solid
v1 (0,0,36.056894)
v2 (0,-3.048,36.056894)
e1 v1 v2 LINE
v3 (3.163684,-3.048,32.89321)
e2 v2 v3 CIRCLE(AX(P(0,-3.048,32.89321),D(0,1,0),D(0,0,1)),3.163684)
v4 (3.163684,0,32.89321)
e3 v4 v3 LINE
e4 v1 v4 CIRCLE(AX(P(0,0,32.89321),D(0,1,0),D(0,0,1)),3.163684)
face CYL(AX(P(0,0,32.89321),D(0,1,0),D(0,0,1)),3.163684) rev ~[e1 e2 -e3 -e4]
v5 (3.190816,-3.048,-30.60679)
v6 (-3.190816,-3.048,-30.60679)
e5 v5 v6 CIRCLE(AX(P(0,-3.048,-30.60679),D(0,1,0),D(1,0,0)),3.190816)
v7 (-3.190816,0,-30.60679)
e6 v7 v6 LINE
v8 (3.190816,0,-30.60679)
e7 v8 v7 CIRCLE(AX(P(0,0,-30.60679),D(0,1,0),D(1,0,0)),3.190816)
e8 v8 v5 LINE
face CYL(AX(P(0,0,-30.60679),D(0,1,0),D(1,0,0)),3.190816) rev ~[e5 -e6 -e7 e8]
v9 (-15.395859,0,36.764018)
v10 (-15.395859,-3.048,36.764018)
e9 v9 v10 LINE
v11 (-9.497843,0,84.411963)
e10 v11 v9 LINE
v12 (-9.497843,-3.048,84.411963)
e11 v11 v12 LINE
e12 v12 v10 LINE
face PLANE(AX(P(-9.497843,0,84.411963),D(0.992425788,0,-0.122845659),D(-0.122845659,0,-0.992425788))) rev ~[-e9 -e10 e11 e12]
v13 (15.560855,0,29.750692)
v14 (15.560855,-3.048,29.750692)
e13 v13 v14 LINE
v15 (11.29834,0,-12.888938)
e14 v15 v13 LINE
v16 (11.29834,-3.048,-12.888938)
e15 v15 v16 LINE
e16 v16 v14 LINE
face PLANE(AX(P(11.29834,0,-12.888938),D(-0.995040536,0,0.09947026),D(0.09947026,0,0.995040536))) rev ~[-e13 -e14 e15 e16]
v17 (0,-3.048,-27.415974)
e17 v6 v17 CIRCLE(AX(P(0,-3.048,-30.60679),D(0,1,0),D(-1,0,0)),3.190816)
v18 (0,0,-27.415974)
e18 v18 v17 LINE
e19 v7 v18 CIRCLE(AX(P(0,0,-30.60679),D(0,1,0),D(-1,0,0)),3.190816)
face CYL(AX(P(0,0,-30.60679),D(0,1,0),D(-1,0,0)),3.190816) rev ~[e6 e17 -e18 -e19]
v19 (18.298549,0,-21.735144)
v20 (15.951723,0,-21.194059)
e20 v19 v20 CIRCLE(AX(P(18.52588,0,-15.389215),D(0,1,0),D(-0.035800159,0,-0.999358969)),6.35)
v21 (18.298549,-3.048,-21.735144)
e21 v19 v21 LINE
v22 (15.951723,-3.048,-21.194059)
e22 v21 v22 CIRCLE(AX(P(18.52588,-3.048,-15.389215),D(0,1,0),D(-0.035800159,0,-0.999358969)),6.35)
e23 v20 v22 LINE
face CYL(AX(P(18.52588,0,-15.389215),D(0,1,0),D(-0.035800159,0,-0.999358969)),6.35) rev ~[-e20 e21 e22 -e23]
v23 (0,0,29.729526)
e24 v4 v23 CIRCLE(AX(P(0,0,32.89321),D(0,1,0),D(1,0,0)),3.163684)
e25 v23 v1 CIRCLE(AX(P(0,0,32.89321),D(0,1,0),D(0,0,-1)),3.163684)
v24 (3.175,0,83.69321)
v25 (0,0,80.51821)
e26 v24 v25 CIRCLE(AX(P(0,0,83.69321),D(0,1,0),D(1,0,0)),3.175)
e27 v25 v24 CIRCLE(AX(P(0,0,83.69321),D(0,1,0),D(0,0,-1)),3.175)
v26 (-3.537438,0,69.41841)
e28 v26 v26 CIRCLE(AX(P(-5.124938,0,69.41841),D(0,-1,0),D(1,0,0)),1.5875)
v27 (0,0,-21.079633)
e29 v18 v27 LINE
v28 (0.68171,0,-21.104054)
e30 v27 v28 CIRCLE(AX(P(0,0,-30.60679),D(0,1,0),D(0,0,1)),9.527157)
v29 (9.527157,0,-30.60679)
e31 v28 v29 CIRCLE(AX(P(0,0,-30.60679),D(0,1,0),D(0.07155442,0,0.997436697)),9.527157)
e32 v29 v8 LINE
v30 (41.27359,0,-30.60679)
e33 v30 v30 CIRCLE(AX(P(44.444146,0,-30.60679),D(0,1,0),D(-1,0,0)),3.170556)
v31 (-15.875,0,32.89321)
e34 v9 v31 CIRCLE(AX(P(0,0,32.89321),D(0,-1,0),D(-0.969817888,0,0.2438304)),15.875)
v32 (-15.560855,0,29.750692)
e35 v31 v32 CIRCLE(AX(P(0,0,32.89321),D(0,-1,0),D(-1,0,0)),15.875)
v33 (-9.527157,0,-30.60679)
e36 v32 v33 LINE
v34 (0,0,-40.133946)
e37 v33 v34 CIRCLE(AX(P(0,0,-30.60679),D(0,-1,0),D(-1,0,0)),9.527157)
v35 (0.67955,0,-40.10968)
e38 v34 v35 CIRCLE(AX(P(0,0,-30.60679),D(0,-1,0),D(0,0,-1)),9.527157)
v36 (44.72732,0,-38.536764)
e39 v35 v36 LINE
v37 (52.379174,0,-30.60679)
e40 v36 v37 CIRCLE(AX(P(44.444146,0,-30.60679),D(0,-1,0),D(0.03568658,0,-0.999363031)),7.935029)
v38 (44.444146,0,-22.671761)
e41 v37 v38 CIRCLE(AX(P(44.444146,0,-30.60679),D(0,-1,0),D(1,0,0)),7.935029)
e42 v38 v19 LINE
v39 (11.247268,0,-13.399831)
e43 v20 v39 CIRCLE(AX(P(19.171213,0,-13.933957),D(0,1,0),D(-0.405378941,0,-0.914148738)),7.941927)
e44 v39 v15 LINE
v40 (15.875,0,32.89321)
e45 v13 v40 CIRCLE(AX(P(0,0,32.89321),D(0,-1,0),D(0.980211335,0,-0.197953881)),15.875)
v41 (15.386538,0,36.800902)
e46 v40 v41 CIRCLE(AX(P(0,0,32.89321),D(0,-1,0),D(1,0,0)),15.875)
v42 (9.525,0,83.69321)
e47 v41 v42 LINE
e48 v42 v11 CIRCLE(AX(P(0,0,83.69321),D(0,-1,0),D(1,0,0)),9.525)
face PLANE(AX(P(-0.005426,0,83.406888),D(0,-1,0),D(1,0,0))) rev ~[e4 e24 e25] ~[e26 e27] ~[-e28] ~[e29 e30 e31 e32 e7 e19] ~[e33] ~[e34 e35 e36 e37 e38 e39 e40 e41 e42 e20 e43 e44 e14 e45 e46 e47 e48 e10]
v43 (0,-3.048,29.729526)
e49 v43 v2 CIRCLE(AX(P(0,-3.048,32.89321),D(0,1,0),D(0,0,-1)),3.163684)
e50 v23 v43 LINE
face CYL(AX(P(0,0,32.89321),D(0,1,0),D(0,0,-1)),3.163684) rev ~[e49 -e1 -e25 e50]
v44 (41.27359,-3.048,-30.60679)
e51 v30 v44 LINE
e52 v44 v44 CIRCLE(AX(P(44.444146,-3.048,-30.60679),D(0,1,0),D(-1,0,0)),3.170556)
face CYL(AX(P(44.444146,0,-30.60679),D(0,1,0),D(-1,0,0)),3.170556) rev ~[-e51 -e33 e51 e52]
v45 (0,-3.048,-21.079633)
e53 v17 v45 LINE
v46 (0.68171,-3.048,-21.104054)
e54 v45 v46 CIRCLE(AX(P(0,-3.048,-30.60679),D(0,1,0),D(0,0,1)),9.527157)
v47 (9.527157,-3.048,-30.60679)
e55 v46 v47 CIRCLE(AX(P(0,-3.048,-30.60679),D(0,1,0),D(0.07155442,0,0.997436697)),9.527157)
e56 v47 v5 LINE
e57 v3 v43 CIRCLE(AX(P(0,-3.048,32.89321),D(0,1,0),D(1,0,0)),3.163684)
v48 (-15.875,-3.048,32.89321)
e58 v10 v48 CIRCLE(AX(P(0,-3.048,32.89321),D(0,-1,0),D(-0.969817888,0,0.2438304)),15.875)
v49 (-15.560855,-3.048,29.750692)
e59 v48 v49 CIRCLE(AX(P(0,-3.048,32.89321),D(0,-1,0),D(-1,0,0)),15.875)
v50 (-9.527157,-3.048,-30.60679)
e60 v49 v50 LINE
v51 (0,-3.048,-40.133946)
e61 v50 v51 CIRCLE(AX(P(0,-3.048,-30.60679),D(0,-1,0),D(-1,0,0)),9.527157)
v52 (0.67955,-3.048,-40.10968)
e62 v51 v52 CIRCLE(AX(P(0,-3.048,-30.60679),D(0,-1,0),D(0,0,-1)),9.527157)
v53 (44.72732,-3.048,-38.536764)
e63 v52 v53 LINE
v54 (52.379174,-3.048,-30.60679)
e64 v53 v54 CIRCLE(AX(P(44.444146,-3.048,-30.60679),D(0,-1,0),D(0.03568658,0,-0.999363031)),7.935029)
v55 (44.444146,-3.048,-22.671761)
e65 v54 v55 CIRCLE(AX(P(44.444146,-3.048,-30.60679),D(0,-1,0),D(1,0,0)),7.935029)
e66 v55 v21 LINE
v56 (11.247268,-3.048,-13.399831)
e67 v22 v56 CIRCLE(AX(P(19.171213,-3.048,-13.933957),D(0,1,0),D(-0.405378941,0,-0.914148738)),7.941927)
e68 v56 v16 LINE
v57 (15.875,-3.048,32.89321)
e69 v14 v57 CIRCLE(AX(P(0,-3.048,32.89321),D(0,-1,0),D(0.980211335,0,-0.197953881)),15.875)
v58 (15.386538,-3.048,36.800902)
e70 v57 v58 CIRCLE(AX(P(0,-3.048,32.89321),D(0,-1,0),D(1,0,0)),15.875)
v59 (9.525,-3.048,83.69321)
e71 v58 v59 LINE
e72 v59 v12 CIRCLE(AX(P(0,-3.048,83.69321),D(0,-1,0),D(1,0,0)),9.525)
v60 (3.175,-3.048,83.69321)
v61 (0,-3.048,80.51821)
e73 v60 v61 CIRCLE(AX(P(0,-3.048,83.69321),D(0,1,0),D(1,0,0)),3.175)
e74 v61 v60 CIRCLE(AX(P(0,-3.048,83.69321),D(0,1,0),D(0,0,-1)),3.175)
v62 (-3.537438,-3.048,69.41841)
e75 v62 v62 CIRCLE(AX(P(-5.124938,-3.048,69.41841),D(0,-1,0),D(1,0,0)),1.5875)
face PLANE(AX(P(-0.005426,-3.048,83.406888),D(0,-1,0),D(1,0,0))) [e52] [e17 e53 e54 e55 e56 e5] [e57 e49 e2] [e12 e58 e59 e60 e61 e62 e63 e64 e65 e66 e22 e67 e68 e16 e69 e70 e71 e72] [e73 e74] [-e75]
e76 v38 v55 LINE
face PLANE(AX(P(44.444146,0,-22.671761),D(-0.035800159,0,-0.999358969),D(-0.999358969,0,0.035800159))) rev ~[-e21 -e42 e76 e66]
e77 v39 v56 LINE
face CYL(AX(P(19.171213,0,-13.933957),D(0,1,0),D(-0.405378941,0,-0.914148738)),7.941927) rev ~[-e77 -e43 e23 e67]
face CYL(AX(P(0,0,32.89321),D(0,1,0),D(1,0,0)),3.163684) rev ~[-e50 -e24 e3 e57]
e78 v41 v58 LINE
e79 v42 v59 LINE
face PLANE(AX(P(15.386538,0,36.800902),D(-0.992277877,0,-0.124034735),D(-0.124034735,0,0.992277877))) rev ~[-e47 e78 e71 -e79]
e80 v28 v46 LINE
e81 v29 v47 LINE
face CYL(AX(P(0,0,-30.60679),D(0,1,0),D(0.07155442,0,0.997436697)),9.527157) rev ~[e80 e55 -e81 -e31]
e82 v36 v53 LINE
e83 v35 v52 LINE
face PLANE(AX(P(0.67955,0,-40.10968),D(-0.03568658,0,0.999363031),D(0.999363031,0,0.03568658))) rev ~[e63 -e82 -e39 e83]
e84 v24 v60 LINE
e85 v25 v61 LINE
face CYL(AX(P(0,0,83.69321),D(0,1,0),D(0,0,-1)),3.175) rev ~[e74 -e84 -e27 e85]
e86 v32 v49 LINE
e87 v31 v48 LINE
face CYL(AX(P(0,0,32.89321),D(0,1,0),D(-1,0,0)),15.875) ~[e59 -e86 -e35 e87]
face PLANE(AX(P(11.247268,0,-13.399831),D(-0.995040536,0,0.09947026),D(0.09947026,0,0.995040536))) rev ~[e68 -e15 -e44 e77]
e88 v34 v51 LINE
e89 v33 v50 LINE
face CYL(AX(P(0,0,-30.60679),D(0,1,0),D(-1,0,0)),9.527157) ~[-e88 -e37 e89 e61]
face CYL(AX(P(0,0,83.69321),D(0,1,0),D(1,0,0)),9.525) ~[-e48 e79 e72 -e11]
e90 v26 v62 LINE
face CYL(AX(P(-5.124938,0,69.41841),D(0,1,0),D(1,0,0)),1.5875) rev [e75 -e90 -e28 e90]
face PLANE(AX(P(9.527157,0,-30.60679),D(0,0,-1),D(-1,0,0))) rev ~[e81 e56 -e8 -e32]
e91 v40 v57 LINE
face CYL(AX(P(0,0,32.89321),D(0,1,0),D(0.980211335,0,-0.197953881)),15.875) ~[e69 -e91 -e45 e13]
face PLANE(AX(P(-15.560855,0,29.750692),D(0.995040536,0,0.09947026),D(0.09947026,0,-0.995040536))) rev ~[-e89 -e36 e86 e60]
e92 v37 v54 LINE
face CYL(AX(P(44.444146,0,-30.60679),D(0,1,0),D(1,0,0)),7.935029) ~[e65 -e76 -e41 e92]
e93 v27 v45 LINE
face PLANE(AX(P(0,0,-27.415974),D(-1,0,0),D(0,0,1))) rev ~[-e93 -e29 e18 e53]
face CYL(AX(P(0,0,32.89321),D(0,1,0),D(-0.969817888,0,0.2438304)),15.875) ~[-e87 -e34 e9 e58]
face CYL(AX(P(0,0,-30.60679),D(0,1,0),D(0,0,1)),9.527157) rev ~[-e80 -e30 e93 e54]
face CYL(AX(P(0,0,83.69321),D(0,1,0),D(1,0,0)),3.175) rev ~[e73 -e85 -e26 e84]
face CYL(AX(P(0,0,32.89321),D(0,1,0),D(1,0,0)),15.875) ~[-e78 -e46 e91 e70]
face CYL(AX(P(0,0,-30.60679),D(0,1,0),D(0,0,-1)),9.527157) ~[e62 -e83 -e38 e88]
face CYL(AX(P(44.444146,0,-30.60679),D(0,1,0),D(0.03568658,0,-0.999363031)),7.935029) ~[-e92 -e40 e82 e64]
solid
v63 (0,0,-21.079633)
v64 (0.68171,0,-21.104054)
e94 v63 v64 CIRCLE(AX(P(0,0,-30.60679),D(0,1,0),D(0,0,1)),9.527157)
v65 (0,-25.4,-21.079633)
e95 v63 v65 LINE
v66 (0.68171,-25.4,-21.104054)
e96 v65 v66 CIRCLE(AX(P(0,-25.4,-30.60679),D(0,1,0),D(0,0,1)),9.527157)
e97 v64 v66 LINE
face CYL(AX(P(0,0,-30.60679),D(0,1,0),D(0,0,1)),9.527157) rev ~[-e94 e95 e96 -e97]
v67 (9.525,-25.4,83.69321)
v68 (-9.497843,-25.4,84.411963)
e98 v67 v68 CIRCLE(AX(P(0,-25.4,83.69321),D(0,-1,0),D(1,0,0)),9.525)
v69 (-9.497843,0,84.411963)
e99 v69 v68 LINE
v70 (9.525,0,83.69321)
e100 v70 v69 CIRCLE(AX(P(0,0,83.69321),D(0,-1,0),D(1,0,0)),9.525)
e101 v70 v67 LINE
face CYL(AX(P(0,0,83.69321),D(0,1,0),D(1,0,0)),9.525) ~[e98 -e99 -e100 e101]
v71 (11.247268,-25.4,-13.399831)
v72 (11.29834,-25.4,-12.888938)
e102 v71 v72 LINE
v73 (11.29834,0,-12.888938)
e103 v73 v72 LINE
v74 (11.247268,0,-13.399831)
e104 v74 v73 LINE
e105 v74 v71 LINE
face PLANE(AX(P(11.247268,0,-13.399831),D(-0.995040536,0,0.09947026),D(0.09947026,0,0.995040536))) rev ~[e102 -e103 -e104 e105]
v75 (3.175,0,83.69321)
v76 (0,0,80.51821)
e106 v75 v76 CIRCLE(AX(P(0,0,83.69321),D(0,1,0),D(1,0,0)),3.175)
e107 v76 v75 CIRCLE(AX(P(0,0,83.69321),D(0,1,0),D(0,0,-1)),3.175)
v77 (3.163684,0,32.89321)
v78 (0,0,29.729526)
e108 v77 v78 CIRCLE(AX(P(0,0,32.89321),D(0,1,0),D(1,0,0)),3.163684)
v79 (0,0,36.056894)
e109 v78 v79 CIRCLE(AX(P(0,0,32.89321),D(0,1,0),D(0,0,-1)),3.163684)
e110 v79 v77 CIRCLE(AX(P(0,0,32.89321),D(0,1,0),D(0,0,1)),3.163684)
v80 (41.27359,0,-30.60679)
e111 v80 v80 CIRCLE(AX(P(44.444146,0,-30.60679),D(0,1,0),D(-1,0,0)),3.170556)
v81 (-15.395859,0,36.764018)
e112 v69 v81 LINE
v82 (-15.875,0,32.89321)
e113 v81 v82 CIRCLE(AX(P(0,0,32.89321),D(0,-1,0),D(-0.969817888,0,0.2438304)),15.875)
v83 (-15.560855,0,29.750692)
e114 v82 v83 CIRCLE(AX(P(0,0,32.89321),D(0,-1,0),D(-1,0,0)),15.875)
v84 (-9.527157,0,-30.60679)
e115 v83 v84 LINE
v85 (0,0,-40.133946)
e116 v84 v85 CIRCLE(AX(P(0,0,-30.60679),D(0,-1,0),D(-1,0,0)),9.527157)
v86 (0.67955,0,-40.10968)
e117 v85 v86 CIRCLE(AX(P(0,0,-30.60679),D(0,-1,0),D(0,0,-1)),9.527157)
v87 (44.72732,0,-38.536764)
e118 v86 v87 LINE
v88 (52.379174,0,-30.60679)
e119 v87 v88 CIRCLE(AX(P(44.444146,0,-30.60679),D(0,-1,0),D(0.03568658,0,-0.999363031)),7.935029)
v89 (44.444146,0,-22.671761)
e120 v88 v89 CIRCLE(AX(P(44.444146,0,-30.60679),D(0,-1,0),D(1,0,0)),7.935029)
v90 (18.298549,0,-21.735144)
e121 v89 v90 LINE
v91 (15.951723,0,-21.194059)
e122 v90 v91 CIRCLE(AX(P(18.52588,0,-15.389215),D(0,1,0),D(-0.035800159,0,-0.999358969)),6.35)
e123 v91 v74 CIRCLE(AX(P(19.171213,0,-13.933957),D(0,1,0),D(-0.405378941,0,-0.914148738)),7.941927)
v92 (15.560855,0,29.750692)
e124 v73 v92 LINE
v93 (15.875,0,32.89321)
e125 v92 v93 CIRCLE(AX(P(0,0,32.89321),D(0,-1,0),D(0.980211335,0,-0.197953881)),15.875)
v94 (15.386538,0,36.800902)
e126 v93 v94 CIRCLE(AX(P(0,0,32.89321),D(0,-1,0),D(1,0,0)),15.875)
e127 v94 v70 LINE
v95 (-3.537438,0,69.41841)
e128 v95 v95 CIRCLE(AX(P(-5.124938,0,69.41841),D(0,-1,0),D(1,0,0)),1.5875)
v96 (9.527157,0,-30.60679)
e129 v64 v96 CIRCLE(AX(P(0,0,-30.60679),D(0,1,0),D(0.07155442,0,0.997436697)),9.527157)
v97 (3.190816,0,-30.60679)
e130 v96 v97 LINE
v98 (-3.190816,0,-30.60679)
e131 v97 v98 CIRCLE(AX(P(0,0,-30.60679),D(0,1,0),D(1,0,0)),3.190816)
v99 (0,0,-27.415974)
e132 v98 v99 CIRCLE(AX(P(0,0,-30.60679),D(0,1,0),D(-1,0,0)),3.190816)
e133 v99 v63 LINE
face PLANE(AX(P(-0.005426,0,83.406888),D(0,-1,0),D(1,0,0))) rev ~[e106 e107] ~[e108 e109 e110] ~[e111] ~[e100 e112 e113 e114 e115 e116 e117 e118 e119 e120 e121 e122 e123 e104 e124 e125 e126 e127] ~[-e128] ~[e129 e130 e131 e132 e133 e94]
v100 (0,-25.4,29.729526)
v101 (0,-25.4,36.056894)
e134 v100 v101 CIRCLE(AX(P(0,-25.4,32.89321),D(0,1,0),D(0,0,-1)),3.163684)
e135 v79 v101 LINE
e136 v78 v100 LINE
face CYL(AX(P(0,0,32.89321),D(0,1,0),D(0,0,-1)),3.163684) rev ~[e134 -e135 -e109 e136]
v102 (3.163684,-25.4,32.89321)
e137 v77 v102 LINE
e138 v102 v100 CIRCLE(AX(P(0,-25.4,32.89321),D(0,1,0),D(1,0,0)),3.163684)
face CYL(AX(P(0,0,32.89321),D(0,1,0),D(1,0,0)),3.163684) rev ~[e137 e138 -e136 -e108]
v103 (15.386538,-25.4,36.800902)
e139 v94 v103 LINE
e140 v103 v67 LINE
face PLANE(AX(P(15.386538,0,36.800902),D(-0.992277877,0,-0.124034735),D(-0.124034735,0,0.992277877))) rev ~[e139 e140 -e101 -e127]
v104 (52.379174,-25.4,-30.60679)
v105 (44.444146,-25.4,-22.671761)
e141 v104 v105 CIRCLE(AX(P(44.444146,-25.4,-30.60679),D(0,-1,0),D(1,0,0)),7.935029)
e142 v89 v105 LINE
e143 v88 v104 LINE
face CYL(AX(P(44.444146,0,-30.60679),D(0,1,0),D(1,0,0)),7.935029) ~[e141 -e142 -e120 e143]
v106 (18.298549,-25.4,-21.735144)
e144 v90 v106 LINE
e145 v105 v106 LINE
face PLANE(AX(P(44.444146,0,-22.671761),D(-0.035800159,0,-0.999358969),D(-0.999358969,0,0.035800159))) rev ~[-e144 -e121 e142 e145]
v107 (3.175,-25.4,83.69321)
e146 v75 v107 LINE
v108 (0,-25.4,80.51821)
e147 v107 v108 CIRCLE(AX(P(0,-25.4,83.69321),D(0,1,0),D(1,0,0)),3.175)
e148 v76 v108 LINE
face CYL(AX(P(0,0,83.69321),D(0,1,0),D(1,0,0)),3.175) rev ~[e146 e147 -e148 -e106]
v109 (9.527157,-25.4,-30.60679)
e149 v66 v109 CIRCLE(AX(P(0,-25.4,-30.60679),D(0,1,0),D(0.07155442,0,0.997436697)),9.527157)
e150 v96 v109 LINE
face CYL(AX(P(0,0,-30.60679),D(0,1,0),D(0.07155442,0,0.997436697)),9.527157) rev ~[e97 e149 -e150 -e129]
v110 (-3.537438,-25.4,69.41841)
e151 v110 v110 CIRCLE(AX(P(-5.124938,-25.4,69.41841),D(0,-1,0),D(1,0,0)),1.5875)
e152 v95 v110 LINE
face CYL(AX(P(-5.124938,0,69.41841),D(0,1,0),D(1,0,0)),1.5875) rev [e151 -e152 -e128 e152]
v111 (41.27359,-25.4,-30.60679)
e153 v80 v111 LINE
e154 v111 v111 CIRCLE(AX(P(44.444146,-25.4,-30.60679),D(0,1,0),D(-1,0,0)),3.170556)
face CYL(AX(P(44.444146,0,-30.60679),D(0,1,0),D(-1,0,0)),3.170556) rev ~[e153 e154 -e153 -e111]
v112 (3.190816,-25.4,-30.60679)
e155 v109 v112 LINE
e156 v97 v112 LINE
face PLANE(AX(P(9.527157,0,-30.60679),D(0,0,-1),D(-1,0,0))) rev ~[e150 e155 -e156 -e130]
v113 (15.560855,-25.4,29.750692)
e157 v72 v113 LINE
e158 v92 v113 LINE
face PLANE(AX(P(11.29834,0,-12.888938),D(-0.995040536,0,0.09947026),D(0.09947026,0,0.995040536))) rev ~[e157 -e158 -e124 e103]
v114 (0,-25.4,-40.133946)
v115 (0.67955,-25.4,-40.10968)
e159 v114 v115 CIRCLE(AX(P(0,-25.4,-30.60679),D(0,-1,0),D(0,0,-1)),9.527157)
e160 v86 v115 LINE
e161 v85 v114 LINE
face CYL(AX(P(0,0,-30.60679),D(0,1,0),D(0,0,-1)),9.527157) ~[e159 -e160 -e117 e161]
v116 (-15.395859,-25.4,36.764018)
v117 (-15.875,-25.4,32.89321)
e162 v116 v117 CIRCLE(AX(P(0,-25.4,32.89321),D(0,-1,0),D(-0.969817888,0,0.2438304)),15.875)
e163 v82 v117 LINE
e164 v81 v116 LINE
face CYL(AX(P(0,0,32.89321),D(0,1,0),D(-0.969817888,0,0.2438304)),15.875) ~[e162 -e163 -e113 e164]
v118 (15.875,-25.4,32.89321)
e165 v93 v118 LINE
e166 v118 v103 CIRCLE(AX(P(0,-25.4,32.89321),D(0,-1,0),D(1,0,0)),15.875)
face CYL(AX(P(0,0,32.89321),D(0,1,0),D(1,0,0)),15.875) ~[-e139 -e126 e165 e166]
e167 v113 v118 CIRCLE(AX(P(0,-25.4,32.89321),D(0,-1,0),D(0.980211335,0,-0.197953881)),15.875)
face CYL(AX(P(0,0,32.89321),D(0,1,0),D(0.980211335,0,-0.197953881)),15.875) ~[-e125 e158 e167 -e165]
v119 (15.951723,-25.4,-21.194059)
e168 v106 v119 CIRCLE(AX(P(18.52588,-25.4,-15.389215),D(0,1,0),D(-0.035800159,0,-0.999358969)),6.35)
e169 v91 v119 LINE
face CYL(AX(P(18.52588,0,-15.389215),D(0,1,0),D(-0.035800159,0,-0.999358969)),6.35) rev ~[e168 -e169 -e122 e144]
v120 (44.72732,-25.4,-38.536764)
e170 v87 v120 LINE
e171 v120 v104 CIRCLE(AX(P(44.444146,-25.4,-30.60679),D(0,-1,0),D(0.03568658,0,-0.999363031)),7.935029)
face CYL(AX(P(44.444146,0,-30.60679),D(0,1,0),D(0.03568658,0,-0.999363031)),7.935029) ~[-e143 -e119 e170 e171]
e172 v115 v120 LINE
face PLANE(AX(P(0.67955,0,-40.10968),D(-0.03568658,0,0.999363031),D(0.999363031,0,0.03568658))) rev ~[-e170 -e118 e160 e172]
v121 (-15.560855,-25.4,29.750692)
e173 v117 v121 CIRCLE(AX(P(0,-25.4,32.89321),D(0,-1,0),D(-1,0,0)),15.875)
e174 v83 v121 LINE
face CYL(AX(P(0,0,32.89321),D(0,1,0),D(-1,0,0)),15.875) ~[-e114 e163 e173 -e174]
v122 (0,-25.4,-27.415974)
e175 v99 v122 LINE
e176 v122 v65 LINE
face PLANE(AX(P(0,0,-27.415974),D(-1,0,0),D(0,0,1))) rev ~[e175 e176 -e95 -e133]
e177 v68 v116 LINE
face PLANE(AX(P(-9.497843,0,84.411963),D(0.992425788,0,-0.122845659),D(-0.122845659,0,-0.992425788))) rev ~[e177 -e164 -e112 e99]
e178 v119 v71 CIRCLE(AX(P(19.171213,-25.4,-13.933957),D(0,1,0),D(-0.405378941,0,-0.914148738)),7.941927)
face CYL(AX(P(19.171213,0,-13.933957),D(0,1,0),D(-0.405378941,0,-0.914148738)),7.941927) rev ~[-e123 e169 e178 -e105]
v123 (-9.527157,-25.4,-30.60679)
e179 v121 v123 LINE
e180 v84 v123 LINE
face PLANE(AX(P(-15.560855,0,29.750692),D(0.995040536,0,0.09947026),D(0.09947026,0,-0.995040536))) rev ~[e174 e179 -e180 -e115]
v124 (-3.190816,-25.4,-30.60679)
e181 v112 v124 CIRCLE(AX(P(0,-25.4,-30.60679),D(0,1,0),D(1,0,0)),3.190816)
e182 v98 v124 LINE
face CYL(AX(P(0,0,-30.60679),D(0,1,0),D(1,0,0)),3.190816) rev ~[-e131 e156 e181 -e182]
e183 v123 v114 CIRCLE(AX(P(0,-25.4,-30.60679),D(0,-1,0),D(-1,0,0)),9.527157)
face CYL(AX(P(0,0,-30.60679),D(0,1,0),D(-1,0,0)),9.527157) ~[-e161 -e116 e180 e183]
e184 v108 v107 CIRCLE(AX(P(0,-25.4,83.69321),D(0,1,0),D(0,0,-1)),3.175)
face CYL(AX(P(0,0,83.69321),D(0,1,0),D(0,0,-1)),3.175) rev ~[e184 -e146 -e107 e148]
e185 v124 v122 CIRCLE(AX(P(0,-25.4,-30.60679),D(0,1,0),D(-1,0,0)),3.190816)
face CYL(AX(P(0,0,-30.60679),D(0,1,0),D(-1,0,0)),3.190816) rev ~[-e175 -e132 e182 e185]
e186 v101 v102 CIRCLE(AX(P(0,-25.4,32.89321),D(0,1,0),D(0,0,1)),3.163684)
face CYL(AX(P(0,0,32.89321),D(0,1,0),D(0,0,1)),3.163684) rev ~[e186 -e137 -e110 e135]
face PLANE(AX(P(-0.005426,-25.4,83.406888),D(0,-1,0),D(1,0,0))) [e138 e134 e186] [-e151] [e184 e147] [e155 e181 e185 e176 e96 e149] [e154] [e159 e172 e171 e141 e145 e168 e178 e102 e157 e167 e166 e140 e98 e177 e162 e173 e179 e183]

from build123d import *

# Parameters (mm, degrees)
F0_R     = 1.5875
F1_DEPTH = 25.4
F2_DEPTH = 3.048


with BuildPart() as f1:
    # F0 (on Front) → F1 (new body)
    with BuildSketch(Plane.XZ):
        with BuildLine():
            ThreePointArc((-9.4978428488, 84.4119633965), (-6.9846885975, 77.2171194998), (0, 74.1682101567))
            ThreePointArc((0, 74.1682101567), (6.7351920908, 76.9580180659), (9.525, 83.6932101567))
            ThreePointArc((9.525, 83.6932101567), (0.3596330528, 93.2114184475), (-9.4978428488, 84.4119633965))
        make_face()
        with BuildLine():
            ThreePointArc((3.175, 83.6932101567), (2.2450640303, 81.4481461264), (0, 80.5182101567))
            ThreePointArc((0, 80.5182101567), (-2.2450640303, 85.938274187), (3.175, 83.6932101567))
        make_face(mode=Mode.SUBTRACT)
        with BuildLine():
            ThreePointArc((9.525, 83.6932101567), (6.7351920908, 76.9580180659), (0, 74.1682101567))
            Line((0, 74.1682101567), (0, 69.4184101567))
            Line((0, 69.4184101567), (0, 48.7682101567))
            ThreePointArc((0, 48.7682101567), (9.7463072395, 45.4241766075), (15.3865384615, 36.8009024644))
            Line((15.3865384615, 36.8009024644), (9.525, 83.6932101567))
        make_face()
        with BuildLine():
            Line((0, 69.4184101567), (0, 74.1682101567))
            ThreePointArc((0, 74.1682101567), (-6.9846885975, 77.2171194998), (-9.4978428488, 84.4119633965))
            Line((-9.4978428488, 84.4119633965), (-15.3958589716, 36.7640177631))
            ThreePointArc((-15.3958589716, 36.7640177631), (-9.7613153378, 45.4124892045), (0, 48.7682101567))
            Line((0, 48.7682101567), (0, 69.4184101567))
        make_face()
        with Locations((-5.124937529, 69.4184101567)):
            Circle(F0_R, mode=Mode.SUBTRACT)
        with BuildLine():
            ThreePointArc((15.3865384615, 36.8009024644), (9.7463072395, 45.4241766075), (0, 48.7682101567))
            Line((0, 48.7682101567), (0, 36.0568941846))
            ThreePointArc((0, 36.0568941846), (2.2370624297, 35.1302725864), (3.1636840279, 32.8932101567))
            ThreePointArc((3.1636840279, 32.8932101567), (2.2370624297, 30.656147727), (0, 29.7295261288))
            Line((0, 29.7295261288), (0, 17.0182101567))
            ThreePointArc((0, 17.0182101567), (10.0530630624, 20.6069760688), (15.5608549399, 29.7506922904))
            Line((15.5608549399, 29.7506922904), (15.875, 32.8932101567))
            Line((15.875, 32.8932101567), (15.3865384615, 36.8009024644))
        make_face()
        with BuildLine():
            Line((0, 36.0568941846), (0, 48.7682101567))
            ThreePointArc((0, 48.7682101567), (-9.7613153378, 45.4124892045), (-15.3958589716, 36.7640177631))
            Line((-15.3958589716, 36.7640177631), (-15.875, 32.8932101567))
            Line((-15.875, 32.8932101567), (-15.5608549399, 29.7506922904))
            ThreePointArc((-15.5608549399, 29.7506922904), (-10.0530630624, 20.6069760688), (0, 17.0182101567))
            Line((0, 17.0182101567), (0, 29.7295261288))
            ThreePointArc((0, 29.7295261288), (-3.1636840279, 32.8932101567), (0, 36.0568941846))
        make_face()
        with BuildLine():
            Line((-15.875, 32.8932101567), (-15.3958589716, 36.7640177631))
            ThreePointArc((-15.3958589716, 36.7640177631), (-15.7547593789, 34.8433849983), (-15.875, 32.8932101567))
        make_face()
        with BuildLine():
            ThreePointArc((15.875, 32.8932101567), (15.7524112928, 34.8622615683), (15.3865384615, 36.8009024644))
            Line((15.3865384615, 36.8009024644), (15.875, 32.8932101567))
        make_face()
        with BuildLine():
            Line((-15.5608549399, 29.7506922904), (-15.875, 32.8932101567))
            ThreePointArc((-15.875, 32.8932101567), (-15.7962685019, 31.314119781), (-15.5608549399, 29.7506922904))
        make_face()
        with BuildLine():
            ThreePointArc((15.5608549399, 29.7506922904), (15.7962685019, 31.314119781), (15.875, 32.8932101567))
            Line((15.875, 32.8932101567), (15.5608549399, 29.7506922904))
        make_face()
        with BuildLine():
            ThreePointArc((0, 17.0182101567), (-10.0530630624, 20.6069760688), (-15.5608549399, 29.7506922904))
            Line((-15.5608549399, 29.7506922904), (-9.5271565935, -30.6067898433))
            ThreePointArc((-9.5271565935, -30.6067898433), (-6.7367170327, -23.8700728106), (0, -21.0796332498))
            Line((0, -21.0796332498), (0, 17.0182101567))
        make_face()
        with BuildLine():
            Line((11.2983400626, -12.8889377975), (15.5608549399, 29.7506922904))
            ThreePointArc((15.5608549399, 29.7506922904), (10.0530630624, 20.6069760688), (0, 17.0182101567))
            Line((0, 17.0182101567), (0, -21.0796332498))
            ThreePointArc((0, -21.0796332498), (0.3410737199, -21.085740454), (0.6817101619, -21.1040542366))
            ThreePointArc((0.6817101619, -21.1040542366), (6.9735741274, -24.1155667963), (9.5271565935, -30.6067898433))
            Line((9.5271565935, -30.6067898433), (36.5091171516, -30.6067898433))
            ThreePointArc((36.5091171516, -30.6067898433), (38.8332331942, -24.9958773728), (44.4441456647, -22.6717613302))
            Line((44.4441456647, -22.6717613302), (18.2985487274, -21.7351444049))
            ThreePointArc((18.2985487274, -21.7351444049), (17.0992487454, -21.5768820426), (15.9517234628, -21.1940594363))
            ThreePointArc((15.9517234628, -21.1940594363), (12.3718358169, -18.037938808), (11.2472680533, -13.3998314005))
            ThreePointArc((11.2472680533, -13.3998314005), (11.2686743647, -13.14397177), (11.2983400626, -12.8889377975))
        make_face()
        with BuildLine():
            Line((-3.1908159444, -30.6067898433), (-9.5271565935, -30.6067898433))
            ThreePointArc((-9.5271565935, -30.6067898433), (-6.7367170327, -37.343506876), (0, -40.1339464368))
            Line((0, -40.1339464368), (0.6795501516, -40.1096801588))
            ThreePointArc((0.6795501516, -40.1096801588), (6.9728363477, -37.0988054028), (9.5271565935, -30.6067898433))
            Line((9.5271565935, -30.6067898433), (3.1908159444, -30.6067898433))
            ThreePointArc((3.1908159444, -30.6067898433), (0, -33.7976057877), (-3.1908159444, -30.6067898433))
        make_face()
        with BuildLine():
            ThreePointArc((0, -21.0796332498), (-6.7367170327, -23.8700728106), (-9.5271565935, -30.6067898433))
            Line((-9.5271565935, -30.6067898433), (-3.1908159444, -30.6067898433))
            ThreePointArc((-3.1908159444, -30.6067898433), (-2.2562475918, -28.3505422515), (0, -27.4159738989))
            Line((0, -27.4159738989), (0, -21.0796332498))
        make_face()
        with BuildLine():
            Line((11.2472680533, -13.3998314005), (11.2983400626, -12.8889377975))
            ThreePointArc((11.2983400626, -12.8889377975), (11.2686743647, -13.14397177), (11.2472680533, -13.3998314005))
        make_face()
        with BuildLine():
            Line((0.6795501516, -40.1096801588), (0, -40.1339464368))
            ThreePointArc((0, -40.1339464368), (0.3399916399, -40.1278779346), (0.6795501516, -40.1096801588))
        make_face()
        with BuildLine():
            ThreePointArc((9.5271565935, -30.6067898433), (6.9728363477, -37.0988054028), (0.6795501516, -40.1096801588))
            Line((0.6795501516, -40.1096801588), (44.7273196978, -38.5367639902))
            ThreePointArc((44.7273196978, -38.5367639902), (38.9342598457, -36.3169418348), (36.5091171516, -30.6067898433))
            Line((36.5091171516, -30.6067898433), (9.5271565935, -30.6067898433))
        make_face()
        with BuildLine():
            ThreePointArc((36.5091171516, -30.6067898433), (38.9342598457, -36.3169418348), (44.7273196978, -38.5367639902))
            ThreePointArc((44.7273196978, -38.5367639902), (50.1542976561, -36.1166756623), (52.3791741778, -30.6067898433))
            ThreePointArc((52.3791741778, -30.6067898433), (50.0550581352, -24.9958773728), (44.4441456647, -22.6717613302))
            ThreePointArc((44.4441456647, -22.6717613302), (38.8332331942, -24.9958773728), (36.5091171516, -30.6067898433))
        make_face()
        with BuildLine():
            ThreePointArc((47.6147016308, -30.6067898433), (44.4441456647, -33.7773458094), (41.2735896986, -30.6067898433))
            ThreePointArc((41.2735896986, -30.6067898433), (44.4441456647, -27.4362338772), (47.6147016308, -30.6067898433))
        make_face(mode=Mode.SUBTRACT)
    extrude(amount=F1_DEPTH)


with BuildPart() as f2:
    # F0 (on Front) → F2 (new body)
    with BuildSketch(Plane.XZ):
        with BuildLine():
            ThreePointArc((-9.4978428488, 84.4119633965), (-6.9846885975, 77.2171194998), (0, 74.1682101567))
            ThreePointArc((0, 74.1682101567), (6.7351920908, 76.9580180659), (9.525, 83.6932101567))
            ThreePointArc((9.525, 83.6932101567), (0.3596330528, 93.2114184475), (-9.4978428488, 84.4119633965))
        make_face()
        with BuildLine():
            ThreePointArc((3.175, 83.6932101567), (2.2450640303, 81.4481461264), (0, 80.5182101567))
            ThreePointArc((0, 80.5182101567), (-2.2450640303, 85.938274187), (3.175, 83.6932101567))
        make_face(mode=Mode.SUBTRACT)
        with BuildLine():
            ThreePointArc((9.525, 83.6932101567), (6.7351920908, 76.9580180659), (0, 74.1682101567))
            Line((0, 74.1682101567), (0, 69.4184101567))
            Line((0, 69.4184101567), (0, 48.7682101567))
            ThreePointArc((0, 48.7682101567), (9.7463072395, 45.4241766075), (15.3865384615, 36.8009024644))
            Line((15.3865384615, 36.8009024644), (9.525, 83.6932101567))
        make_face()
        with BuildLine():
            Line((0, 69.4184101567), (0, 74.1682101567))
            ThreePointArc((0, 74.1682101567), (-6.9846885975, 77.2171194998), (-9.4978428488, 84.4119633965))
            Line((-9.4978428488, 84.4119633965), (-15.3958589716, 36.7640177631))
            ThreePointArc((-15.3958589716, 36.7640177631), (-9.7613153378, 45.4124892045), (0, 48.7682101567))
            Line((0, 48.7682101567), (0, 69.4184101567))
        make_face()
        with Locations((-5.124937529, 69.4184101567)):
            Circle(F0_R, mode=Mode.SUBTRACT)
        with BuildLine():
            ThreePointArc((15.3865384615, 36.8009024644), (9.7463072395, 45.4241766075), (0, 48.7682101567))
            Line((0, 48.7682101567), (0, 36.0568941846))
            ThreePointArc((0, 36.0568941846), (2.2370624297, 35.1302725864), (3.1636840279, 32.8932101567))
            ThreePointArc((3.1636840279, 32.8932101567), (2.2370624297, 30.656147727), (0, 29.7295261288))
            Line((0, 29.7295261288), (0, 17.0182101567))
            ThreePointArc((0, 17.0182101567), (10.0530630624, 20.6069760688), (15.5608549399, 29.7506922904))
            Line((15.5608549399, 29.7506922904), (15.875, 32.8932101567))
            Line((15.875, 32.8932101567), (15.3865384615, 36.8009024644))
        make_face()
        with BuildLine():
            Line((0, 36.0568941846), (0, 48.7682101567))
            ThreePointArc((0, 48.7682101567), (-9.7613153378, 45.4124892045), (-15.3958589716, 36.7640177631))
            Line((-15.3958589716, 36.7640177631), (-15.875, 32.8932101567))
            Line((-15.875, 32.8932101567), (-15.5608549399, 29.7506922904))
            ThreePointArc((-15.5608549399, 29.7506922904), (-10.0530630624, 20.6069760688), (0, 17.0182101567))
            Line((0, 17.0182101567), (0, 29.7295261288))
            ThreePointArc((0, 29.7295261288), (-3.1636840279, 32.8932101567), (0, 36.0568941846))
        make_face()
        with BuildLine():
            Line((-15.875, 32.8932101567), (-15.3958589716, 36.7640177631))
            ThreePointArc((-15.3958589716, 36.7640177631), (-15.7547593789, 34.8433849983), (-15.875, 32.8932101567))
        make_face()
        with BuildLine():
            ThreePointArc((15.875, 32.8932101567), (15.7524112928, 34.8622615683), (15.3865384615, 36.8009024644))
            Line((15.3865384615, 36.8009024644), (15.875, 32.8932101567))
        make_face()
        with BuildLine():
            Line((-15.5608549399, 29.7506922904), (-15.875, 32.8932101567))
            ThreePointArc((-15.875, 32.8932101567), (-15.7962685019, 31.314119781), (-15.5608549399, 29.7506922904))
        make_face()
        with BuildLine():
            ThreePointArc((15.5608549399, 29.7506922904), (15.7962685019, 31.314119781), (15.875, 32.8932101567))
            Line((15.875, 32.8932101567), (15.5608549399, 29.7506922904))
        make_face()
        with BuildLine():
            ThreePointArc((0, 17.0182101567), (-10.0530630624, 20.6069760688), (-15.5608549399, 29.7506922904))
            Line((-15.5608549399, 29.7506922904), (-9.5271565935, -30.6067898433))
            ThreePointArc((-9.5271565935, -30.6067898433), (-6.7367170327, -23.8700728106), (0, -21.0796332498))
            Line((0, -21.0796332498), (0, 17.0182101567))
        make_face()
        with BuildLine():
            Line((11.2983400626, -12.8889377975), (15.5608549399, 29.7506922904))
            ThreePointArc((15.5608549399, 29.7506922904), (10.0530630624, 20.6069760688), (0, 17.0182101567))
            Line((0, 17.0182101567), (0, -21.0796332498))
            ThreePointArc((0, -21.0796332498), (0.3410737199, -21.085740454), (0.6817101619, -21.1040542366))
            ThreePointArc((0.6817101619, -21.1040542366), (6.9735741274, -24.1155667963), (9.5271565935, -30.6067898433))
            Line((9.5271565935, -30.6067898433), (36.5091171516, -30.6067898433))
            ThreePointArc((36.5091171516, -30.6067898433), (38.8332331942, -24.9958773728), (44.4441456647, -22.6717613302))
            Line((44.4441456647, -22.6717613302), (18.2985487274, -21.7351444049))
            ThreePointArc((18.2985487274, -21.7351444049), (17.0992487454, -21.5768820426), (15.9517234628, -21.1940594363))
            ThreePointArc((15.9517234628, -21.1940594363), (12.3718358169, -18.037938808), (11.2472680533, -13.3998314005))
            ThreePointArc((11.2472680533, -13.3998314005), (11.2686743647, -13.14397177), (11.2983400626, -12.8889377975))
        make_face()
        with BuildLine():
            Line((-3.1908159444, -30.6067898433), (-9.5271565935, -30.6067898433))
            ThreePointArc((-9.5271565935, -30.6067898433), (-6.7367170327, -37.343506876), (0, -40.1339464368))
            Line((0, -40.1339464368), (0.6795501516, -40.1096801588))
            ThreePointArc((0.6795501516, -40.1096801588), (6.9728363477, -37.0988054028), (9.5271565935, -30.6067898433))
            Line((9.5271565935, -30.6067898433), (3.1908159444, -30.6067898433))
            ThreePointArc((3.1908159444, -30.6067898433), (0, -33.7976057877), (-3.1908159444, -30.6067898433))
        make_face()
        with BuildLine():
            ThreePointArc((0, -21.0796332498), (-6.7367170327, -23.8700728106), (-9.5271565935, -30.6067898433))
            Line((-9.5271565935, -30.6067898433), (-3.1908159444, -30.6067898433))
            ThreePointArc((-3.1908159444, -30.6067898433), (-2.2562475918, -28.3505422515), (0, -27.4159738989))
            Line((0, -27.4159738989), (0, -21.0796332498))
        make_face()
        with BuildLine():
            Line((11.2472680533, -13.3998314005), (11.2983400626, -12.8889377975))
            ThreePointArc((11.2983400626, -12.8889377975), (11.2686743647, -13.14397177), (11.2472680533, -13.3998314005))
        make_face()
        with BuildLine():
            Line((0.6795501516, -40.1096801588), (0, -40.1339464368))
            ThreePointArc((0, -40.1339464368), (0.3399916399, -40.1278779346), (0.6795501516, -40.1096801588))
        make_face()
        with BuildLine():
            ThreePointArc((9.5271565935, -30.6067898433), (6.9728363477, -37.0988054028), (0.6795501516, -40.1096801588))
            Line((0.6795501516, -40.1096801588), (44.7273196978, -38.5367639902))
            ThreePointArc((44.7273196978, -38.5367639902), (38.9342598457, -36.3169418348), (36.5091171516, -30.6067898433))
            Line((36.5091171516, -30.6067898433), (9.5271565935, -30.6067898433))
        make_face()
        with BuildLine():
            ThreePointArc((36.5091171516, -30.6067898433), (38.9342598457, -36.3169418348), (44.7273196978, -38.5367639902))
            ThreePointArc((44.7273196978, -38.5367639902), (50.1542976561, -36.1166756623), (52.3791741778, -30.6067898433))
            ThreePointArc((52.3791741778, -30.6067898433), (50.0550581352, -24.9958773728), (44.4441456647, -22.6717613302))
            ThreePointArc((44.4441456647, -22.6717613302), (38.8332331942, -24.9958773728), (36.5091171516, -30.6067898433))
        make_face()
        with BuildLine():
            ThreePointArc((47.6147016308, -30.6067898433), (44.4441456647, -33.7773458094), (41.2735896986, -30.6067898433))
            ThreePointArc((41.2735896986, -30.6067898433), (44.4441456647, -27.4362338772), (47.6147016308, -30.6067898433))
        make_face(mode=Mode.SUBTRACT)
    extrude(amount=F2_DEPTH)


solid = Compound([f1.part, f2.part])
